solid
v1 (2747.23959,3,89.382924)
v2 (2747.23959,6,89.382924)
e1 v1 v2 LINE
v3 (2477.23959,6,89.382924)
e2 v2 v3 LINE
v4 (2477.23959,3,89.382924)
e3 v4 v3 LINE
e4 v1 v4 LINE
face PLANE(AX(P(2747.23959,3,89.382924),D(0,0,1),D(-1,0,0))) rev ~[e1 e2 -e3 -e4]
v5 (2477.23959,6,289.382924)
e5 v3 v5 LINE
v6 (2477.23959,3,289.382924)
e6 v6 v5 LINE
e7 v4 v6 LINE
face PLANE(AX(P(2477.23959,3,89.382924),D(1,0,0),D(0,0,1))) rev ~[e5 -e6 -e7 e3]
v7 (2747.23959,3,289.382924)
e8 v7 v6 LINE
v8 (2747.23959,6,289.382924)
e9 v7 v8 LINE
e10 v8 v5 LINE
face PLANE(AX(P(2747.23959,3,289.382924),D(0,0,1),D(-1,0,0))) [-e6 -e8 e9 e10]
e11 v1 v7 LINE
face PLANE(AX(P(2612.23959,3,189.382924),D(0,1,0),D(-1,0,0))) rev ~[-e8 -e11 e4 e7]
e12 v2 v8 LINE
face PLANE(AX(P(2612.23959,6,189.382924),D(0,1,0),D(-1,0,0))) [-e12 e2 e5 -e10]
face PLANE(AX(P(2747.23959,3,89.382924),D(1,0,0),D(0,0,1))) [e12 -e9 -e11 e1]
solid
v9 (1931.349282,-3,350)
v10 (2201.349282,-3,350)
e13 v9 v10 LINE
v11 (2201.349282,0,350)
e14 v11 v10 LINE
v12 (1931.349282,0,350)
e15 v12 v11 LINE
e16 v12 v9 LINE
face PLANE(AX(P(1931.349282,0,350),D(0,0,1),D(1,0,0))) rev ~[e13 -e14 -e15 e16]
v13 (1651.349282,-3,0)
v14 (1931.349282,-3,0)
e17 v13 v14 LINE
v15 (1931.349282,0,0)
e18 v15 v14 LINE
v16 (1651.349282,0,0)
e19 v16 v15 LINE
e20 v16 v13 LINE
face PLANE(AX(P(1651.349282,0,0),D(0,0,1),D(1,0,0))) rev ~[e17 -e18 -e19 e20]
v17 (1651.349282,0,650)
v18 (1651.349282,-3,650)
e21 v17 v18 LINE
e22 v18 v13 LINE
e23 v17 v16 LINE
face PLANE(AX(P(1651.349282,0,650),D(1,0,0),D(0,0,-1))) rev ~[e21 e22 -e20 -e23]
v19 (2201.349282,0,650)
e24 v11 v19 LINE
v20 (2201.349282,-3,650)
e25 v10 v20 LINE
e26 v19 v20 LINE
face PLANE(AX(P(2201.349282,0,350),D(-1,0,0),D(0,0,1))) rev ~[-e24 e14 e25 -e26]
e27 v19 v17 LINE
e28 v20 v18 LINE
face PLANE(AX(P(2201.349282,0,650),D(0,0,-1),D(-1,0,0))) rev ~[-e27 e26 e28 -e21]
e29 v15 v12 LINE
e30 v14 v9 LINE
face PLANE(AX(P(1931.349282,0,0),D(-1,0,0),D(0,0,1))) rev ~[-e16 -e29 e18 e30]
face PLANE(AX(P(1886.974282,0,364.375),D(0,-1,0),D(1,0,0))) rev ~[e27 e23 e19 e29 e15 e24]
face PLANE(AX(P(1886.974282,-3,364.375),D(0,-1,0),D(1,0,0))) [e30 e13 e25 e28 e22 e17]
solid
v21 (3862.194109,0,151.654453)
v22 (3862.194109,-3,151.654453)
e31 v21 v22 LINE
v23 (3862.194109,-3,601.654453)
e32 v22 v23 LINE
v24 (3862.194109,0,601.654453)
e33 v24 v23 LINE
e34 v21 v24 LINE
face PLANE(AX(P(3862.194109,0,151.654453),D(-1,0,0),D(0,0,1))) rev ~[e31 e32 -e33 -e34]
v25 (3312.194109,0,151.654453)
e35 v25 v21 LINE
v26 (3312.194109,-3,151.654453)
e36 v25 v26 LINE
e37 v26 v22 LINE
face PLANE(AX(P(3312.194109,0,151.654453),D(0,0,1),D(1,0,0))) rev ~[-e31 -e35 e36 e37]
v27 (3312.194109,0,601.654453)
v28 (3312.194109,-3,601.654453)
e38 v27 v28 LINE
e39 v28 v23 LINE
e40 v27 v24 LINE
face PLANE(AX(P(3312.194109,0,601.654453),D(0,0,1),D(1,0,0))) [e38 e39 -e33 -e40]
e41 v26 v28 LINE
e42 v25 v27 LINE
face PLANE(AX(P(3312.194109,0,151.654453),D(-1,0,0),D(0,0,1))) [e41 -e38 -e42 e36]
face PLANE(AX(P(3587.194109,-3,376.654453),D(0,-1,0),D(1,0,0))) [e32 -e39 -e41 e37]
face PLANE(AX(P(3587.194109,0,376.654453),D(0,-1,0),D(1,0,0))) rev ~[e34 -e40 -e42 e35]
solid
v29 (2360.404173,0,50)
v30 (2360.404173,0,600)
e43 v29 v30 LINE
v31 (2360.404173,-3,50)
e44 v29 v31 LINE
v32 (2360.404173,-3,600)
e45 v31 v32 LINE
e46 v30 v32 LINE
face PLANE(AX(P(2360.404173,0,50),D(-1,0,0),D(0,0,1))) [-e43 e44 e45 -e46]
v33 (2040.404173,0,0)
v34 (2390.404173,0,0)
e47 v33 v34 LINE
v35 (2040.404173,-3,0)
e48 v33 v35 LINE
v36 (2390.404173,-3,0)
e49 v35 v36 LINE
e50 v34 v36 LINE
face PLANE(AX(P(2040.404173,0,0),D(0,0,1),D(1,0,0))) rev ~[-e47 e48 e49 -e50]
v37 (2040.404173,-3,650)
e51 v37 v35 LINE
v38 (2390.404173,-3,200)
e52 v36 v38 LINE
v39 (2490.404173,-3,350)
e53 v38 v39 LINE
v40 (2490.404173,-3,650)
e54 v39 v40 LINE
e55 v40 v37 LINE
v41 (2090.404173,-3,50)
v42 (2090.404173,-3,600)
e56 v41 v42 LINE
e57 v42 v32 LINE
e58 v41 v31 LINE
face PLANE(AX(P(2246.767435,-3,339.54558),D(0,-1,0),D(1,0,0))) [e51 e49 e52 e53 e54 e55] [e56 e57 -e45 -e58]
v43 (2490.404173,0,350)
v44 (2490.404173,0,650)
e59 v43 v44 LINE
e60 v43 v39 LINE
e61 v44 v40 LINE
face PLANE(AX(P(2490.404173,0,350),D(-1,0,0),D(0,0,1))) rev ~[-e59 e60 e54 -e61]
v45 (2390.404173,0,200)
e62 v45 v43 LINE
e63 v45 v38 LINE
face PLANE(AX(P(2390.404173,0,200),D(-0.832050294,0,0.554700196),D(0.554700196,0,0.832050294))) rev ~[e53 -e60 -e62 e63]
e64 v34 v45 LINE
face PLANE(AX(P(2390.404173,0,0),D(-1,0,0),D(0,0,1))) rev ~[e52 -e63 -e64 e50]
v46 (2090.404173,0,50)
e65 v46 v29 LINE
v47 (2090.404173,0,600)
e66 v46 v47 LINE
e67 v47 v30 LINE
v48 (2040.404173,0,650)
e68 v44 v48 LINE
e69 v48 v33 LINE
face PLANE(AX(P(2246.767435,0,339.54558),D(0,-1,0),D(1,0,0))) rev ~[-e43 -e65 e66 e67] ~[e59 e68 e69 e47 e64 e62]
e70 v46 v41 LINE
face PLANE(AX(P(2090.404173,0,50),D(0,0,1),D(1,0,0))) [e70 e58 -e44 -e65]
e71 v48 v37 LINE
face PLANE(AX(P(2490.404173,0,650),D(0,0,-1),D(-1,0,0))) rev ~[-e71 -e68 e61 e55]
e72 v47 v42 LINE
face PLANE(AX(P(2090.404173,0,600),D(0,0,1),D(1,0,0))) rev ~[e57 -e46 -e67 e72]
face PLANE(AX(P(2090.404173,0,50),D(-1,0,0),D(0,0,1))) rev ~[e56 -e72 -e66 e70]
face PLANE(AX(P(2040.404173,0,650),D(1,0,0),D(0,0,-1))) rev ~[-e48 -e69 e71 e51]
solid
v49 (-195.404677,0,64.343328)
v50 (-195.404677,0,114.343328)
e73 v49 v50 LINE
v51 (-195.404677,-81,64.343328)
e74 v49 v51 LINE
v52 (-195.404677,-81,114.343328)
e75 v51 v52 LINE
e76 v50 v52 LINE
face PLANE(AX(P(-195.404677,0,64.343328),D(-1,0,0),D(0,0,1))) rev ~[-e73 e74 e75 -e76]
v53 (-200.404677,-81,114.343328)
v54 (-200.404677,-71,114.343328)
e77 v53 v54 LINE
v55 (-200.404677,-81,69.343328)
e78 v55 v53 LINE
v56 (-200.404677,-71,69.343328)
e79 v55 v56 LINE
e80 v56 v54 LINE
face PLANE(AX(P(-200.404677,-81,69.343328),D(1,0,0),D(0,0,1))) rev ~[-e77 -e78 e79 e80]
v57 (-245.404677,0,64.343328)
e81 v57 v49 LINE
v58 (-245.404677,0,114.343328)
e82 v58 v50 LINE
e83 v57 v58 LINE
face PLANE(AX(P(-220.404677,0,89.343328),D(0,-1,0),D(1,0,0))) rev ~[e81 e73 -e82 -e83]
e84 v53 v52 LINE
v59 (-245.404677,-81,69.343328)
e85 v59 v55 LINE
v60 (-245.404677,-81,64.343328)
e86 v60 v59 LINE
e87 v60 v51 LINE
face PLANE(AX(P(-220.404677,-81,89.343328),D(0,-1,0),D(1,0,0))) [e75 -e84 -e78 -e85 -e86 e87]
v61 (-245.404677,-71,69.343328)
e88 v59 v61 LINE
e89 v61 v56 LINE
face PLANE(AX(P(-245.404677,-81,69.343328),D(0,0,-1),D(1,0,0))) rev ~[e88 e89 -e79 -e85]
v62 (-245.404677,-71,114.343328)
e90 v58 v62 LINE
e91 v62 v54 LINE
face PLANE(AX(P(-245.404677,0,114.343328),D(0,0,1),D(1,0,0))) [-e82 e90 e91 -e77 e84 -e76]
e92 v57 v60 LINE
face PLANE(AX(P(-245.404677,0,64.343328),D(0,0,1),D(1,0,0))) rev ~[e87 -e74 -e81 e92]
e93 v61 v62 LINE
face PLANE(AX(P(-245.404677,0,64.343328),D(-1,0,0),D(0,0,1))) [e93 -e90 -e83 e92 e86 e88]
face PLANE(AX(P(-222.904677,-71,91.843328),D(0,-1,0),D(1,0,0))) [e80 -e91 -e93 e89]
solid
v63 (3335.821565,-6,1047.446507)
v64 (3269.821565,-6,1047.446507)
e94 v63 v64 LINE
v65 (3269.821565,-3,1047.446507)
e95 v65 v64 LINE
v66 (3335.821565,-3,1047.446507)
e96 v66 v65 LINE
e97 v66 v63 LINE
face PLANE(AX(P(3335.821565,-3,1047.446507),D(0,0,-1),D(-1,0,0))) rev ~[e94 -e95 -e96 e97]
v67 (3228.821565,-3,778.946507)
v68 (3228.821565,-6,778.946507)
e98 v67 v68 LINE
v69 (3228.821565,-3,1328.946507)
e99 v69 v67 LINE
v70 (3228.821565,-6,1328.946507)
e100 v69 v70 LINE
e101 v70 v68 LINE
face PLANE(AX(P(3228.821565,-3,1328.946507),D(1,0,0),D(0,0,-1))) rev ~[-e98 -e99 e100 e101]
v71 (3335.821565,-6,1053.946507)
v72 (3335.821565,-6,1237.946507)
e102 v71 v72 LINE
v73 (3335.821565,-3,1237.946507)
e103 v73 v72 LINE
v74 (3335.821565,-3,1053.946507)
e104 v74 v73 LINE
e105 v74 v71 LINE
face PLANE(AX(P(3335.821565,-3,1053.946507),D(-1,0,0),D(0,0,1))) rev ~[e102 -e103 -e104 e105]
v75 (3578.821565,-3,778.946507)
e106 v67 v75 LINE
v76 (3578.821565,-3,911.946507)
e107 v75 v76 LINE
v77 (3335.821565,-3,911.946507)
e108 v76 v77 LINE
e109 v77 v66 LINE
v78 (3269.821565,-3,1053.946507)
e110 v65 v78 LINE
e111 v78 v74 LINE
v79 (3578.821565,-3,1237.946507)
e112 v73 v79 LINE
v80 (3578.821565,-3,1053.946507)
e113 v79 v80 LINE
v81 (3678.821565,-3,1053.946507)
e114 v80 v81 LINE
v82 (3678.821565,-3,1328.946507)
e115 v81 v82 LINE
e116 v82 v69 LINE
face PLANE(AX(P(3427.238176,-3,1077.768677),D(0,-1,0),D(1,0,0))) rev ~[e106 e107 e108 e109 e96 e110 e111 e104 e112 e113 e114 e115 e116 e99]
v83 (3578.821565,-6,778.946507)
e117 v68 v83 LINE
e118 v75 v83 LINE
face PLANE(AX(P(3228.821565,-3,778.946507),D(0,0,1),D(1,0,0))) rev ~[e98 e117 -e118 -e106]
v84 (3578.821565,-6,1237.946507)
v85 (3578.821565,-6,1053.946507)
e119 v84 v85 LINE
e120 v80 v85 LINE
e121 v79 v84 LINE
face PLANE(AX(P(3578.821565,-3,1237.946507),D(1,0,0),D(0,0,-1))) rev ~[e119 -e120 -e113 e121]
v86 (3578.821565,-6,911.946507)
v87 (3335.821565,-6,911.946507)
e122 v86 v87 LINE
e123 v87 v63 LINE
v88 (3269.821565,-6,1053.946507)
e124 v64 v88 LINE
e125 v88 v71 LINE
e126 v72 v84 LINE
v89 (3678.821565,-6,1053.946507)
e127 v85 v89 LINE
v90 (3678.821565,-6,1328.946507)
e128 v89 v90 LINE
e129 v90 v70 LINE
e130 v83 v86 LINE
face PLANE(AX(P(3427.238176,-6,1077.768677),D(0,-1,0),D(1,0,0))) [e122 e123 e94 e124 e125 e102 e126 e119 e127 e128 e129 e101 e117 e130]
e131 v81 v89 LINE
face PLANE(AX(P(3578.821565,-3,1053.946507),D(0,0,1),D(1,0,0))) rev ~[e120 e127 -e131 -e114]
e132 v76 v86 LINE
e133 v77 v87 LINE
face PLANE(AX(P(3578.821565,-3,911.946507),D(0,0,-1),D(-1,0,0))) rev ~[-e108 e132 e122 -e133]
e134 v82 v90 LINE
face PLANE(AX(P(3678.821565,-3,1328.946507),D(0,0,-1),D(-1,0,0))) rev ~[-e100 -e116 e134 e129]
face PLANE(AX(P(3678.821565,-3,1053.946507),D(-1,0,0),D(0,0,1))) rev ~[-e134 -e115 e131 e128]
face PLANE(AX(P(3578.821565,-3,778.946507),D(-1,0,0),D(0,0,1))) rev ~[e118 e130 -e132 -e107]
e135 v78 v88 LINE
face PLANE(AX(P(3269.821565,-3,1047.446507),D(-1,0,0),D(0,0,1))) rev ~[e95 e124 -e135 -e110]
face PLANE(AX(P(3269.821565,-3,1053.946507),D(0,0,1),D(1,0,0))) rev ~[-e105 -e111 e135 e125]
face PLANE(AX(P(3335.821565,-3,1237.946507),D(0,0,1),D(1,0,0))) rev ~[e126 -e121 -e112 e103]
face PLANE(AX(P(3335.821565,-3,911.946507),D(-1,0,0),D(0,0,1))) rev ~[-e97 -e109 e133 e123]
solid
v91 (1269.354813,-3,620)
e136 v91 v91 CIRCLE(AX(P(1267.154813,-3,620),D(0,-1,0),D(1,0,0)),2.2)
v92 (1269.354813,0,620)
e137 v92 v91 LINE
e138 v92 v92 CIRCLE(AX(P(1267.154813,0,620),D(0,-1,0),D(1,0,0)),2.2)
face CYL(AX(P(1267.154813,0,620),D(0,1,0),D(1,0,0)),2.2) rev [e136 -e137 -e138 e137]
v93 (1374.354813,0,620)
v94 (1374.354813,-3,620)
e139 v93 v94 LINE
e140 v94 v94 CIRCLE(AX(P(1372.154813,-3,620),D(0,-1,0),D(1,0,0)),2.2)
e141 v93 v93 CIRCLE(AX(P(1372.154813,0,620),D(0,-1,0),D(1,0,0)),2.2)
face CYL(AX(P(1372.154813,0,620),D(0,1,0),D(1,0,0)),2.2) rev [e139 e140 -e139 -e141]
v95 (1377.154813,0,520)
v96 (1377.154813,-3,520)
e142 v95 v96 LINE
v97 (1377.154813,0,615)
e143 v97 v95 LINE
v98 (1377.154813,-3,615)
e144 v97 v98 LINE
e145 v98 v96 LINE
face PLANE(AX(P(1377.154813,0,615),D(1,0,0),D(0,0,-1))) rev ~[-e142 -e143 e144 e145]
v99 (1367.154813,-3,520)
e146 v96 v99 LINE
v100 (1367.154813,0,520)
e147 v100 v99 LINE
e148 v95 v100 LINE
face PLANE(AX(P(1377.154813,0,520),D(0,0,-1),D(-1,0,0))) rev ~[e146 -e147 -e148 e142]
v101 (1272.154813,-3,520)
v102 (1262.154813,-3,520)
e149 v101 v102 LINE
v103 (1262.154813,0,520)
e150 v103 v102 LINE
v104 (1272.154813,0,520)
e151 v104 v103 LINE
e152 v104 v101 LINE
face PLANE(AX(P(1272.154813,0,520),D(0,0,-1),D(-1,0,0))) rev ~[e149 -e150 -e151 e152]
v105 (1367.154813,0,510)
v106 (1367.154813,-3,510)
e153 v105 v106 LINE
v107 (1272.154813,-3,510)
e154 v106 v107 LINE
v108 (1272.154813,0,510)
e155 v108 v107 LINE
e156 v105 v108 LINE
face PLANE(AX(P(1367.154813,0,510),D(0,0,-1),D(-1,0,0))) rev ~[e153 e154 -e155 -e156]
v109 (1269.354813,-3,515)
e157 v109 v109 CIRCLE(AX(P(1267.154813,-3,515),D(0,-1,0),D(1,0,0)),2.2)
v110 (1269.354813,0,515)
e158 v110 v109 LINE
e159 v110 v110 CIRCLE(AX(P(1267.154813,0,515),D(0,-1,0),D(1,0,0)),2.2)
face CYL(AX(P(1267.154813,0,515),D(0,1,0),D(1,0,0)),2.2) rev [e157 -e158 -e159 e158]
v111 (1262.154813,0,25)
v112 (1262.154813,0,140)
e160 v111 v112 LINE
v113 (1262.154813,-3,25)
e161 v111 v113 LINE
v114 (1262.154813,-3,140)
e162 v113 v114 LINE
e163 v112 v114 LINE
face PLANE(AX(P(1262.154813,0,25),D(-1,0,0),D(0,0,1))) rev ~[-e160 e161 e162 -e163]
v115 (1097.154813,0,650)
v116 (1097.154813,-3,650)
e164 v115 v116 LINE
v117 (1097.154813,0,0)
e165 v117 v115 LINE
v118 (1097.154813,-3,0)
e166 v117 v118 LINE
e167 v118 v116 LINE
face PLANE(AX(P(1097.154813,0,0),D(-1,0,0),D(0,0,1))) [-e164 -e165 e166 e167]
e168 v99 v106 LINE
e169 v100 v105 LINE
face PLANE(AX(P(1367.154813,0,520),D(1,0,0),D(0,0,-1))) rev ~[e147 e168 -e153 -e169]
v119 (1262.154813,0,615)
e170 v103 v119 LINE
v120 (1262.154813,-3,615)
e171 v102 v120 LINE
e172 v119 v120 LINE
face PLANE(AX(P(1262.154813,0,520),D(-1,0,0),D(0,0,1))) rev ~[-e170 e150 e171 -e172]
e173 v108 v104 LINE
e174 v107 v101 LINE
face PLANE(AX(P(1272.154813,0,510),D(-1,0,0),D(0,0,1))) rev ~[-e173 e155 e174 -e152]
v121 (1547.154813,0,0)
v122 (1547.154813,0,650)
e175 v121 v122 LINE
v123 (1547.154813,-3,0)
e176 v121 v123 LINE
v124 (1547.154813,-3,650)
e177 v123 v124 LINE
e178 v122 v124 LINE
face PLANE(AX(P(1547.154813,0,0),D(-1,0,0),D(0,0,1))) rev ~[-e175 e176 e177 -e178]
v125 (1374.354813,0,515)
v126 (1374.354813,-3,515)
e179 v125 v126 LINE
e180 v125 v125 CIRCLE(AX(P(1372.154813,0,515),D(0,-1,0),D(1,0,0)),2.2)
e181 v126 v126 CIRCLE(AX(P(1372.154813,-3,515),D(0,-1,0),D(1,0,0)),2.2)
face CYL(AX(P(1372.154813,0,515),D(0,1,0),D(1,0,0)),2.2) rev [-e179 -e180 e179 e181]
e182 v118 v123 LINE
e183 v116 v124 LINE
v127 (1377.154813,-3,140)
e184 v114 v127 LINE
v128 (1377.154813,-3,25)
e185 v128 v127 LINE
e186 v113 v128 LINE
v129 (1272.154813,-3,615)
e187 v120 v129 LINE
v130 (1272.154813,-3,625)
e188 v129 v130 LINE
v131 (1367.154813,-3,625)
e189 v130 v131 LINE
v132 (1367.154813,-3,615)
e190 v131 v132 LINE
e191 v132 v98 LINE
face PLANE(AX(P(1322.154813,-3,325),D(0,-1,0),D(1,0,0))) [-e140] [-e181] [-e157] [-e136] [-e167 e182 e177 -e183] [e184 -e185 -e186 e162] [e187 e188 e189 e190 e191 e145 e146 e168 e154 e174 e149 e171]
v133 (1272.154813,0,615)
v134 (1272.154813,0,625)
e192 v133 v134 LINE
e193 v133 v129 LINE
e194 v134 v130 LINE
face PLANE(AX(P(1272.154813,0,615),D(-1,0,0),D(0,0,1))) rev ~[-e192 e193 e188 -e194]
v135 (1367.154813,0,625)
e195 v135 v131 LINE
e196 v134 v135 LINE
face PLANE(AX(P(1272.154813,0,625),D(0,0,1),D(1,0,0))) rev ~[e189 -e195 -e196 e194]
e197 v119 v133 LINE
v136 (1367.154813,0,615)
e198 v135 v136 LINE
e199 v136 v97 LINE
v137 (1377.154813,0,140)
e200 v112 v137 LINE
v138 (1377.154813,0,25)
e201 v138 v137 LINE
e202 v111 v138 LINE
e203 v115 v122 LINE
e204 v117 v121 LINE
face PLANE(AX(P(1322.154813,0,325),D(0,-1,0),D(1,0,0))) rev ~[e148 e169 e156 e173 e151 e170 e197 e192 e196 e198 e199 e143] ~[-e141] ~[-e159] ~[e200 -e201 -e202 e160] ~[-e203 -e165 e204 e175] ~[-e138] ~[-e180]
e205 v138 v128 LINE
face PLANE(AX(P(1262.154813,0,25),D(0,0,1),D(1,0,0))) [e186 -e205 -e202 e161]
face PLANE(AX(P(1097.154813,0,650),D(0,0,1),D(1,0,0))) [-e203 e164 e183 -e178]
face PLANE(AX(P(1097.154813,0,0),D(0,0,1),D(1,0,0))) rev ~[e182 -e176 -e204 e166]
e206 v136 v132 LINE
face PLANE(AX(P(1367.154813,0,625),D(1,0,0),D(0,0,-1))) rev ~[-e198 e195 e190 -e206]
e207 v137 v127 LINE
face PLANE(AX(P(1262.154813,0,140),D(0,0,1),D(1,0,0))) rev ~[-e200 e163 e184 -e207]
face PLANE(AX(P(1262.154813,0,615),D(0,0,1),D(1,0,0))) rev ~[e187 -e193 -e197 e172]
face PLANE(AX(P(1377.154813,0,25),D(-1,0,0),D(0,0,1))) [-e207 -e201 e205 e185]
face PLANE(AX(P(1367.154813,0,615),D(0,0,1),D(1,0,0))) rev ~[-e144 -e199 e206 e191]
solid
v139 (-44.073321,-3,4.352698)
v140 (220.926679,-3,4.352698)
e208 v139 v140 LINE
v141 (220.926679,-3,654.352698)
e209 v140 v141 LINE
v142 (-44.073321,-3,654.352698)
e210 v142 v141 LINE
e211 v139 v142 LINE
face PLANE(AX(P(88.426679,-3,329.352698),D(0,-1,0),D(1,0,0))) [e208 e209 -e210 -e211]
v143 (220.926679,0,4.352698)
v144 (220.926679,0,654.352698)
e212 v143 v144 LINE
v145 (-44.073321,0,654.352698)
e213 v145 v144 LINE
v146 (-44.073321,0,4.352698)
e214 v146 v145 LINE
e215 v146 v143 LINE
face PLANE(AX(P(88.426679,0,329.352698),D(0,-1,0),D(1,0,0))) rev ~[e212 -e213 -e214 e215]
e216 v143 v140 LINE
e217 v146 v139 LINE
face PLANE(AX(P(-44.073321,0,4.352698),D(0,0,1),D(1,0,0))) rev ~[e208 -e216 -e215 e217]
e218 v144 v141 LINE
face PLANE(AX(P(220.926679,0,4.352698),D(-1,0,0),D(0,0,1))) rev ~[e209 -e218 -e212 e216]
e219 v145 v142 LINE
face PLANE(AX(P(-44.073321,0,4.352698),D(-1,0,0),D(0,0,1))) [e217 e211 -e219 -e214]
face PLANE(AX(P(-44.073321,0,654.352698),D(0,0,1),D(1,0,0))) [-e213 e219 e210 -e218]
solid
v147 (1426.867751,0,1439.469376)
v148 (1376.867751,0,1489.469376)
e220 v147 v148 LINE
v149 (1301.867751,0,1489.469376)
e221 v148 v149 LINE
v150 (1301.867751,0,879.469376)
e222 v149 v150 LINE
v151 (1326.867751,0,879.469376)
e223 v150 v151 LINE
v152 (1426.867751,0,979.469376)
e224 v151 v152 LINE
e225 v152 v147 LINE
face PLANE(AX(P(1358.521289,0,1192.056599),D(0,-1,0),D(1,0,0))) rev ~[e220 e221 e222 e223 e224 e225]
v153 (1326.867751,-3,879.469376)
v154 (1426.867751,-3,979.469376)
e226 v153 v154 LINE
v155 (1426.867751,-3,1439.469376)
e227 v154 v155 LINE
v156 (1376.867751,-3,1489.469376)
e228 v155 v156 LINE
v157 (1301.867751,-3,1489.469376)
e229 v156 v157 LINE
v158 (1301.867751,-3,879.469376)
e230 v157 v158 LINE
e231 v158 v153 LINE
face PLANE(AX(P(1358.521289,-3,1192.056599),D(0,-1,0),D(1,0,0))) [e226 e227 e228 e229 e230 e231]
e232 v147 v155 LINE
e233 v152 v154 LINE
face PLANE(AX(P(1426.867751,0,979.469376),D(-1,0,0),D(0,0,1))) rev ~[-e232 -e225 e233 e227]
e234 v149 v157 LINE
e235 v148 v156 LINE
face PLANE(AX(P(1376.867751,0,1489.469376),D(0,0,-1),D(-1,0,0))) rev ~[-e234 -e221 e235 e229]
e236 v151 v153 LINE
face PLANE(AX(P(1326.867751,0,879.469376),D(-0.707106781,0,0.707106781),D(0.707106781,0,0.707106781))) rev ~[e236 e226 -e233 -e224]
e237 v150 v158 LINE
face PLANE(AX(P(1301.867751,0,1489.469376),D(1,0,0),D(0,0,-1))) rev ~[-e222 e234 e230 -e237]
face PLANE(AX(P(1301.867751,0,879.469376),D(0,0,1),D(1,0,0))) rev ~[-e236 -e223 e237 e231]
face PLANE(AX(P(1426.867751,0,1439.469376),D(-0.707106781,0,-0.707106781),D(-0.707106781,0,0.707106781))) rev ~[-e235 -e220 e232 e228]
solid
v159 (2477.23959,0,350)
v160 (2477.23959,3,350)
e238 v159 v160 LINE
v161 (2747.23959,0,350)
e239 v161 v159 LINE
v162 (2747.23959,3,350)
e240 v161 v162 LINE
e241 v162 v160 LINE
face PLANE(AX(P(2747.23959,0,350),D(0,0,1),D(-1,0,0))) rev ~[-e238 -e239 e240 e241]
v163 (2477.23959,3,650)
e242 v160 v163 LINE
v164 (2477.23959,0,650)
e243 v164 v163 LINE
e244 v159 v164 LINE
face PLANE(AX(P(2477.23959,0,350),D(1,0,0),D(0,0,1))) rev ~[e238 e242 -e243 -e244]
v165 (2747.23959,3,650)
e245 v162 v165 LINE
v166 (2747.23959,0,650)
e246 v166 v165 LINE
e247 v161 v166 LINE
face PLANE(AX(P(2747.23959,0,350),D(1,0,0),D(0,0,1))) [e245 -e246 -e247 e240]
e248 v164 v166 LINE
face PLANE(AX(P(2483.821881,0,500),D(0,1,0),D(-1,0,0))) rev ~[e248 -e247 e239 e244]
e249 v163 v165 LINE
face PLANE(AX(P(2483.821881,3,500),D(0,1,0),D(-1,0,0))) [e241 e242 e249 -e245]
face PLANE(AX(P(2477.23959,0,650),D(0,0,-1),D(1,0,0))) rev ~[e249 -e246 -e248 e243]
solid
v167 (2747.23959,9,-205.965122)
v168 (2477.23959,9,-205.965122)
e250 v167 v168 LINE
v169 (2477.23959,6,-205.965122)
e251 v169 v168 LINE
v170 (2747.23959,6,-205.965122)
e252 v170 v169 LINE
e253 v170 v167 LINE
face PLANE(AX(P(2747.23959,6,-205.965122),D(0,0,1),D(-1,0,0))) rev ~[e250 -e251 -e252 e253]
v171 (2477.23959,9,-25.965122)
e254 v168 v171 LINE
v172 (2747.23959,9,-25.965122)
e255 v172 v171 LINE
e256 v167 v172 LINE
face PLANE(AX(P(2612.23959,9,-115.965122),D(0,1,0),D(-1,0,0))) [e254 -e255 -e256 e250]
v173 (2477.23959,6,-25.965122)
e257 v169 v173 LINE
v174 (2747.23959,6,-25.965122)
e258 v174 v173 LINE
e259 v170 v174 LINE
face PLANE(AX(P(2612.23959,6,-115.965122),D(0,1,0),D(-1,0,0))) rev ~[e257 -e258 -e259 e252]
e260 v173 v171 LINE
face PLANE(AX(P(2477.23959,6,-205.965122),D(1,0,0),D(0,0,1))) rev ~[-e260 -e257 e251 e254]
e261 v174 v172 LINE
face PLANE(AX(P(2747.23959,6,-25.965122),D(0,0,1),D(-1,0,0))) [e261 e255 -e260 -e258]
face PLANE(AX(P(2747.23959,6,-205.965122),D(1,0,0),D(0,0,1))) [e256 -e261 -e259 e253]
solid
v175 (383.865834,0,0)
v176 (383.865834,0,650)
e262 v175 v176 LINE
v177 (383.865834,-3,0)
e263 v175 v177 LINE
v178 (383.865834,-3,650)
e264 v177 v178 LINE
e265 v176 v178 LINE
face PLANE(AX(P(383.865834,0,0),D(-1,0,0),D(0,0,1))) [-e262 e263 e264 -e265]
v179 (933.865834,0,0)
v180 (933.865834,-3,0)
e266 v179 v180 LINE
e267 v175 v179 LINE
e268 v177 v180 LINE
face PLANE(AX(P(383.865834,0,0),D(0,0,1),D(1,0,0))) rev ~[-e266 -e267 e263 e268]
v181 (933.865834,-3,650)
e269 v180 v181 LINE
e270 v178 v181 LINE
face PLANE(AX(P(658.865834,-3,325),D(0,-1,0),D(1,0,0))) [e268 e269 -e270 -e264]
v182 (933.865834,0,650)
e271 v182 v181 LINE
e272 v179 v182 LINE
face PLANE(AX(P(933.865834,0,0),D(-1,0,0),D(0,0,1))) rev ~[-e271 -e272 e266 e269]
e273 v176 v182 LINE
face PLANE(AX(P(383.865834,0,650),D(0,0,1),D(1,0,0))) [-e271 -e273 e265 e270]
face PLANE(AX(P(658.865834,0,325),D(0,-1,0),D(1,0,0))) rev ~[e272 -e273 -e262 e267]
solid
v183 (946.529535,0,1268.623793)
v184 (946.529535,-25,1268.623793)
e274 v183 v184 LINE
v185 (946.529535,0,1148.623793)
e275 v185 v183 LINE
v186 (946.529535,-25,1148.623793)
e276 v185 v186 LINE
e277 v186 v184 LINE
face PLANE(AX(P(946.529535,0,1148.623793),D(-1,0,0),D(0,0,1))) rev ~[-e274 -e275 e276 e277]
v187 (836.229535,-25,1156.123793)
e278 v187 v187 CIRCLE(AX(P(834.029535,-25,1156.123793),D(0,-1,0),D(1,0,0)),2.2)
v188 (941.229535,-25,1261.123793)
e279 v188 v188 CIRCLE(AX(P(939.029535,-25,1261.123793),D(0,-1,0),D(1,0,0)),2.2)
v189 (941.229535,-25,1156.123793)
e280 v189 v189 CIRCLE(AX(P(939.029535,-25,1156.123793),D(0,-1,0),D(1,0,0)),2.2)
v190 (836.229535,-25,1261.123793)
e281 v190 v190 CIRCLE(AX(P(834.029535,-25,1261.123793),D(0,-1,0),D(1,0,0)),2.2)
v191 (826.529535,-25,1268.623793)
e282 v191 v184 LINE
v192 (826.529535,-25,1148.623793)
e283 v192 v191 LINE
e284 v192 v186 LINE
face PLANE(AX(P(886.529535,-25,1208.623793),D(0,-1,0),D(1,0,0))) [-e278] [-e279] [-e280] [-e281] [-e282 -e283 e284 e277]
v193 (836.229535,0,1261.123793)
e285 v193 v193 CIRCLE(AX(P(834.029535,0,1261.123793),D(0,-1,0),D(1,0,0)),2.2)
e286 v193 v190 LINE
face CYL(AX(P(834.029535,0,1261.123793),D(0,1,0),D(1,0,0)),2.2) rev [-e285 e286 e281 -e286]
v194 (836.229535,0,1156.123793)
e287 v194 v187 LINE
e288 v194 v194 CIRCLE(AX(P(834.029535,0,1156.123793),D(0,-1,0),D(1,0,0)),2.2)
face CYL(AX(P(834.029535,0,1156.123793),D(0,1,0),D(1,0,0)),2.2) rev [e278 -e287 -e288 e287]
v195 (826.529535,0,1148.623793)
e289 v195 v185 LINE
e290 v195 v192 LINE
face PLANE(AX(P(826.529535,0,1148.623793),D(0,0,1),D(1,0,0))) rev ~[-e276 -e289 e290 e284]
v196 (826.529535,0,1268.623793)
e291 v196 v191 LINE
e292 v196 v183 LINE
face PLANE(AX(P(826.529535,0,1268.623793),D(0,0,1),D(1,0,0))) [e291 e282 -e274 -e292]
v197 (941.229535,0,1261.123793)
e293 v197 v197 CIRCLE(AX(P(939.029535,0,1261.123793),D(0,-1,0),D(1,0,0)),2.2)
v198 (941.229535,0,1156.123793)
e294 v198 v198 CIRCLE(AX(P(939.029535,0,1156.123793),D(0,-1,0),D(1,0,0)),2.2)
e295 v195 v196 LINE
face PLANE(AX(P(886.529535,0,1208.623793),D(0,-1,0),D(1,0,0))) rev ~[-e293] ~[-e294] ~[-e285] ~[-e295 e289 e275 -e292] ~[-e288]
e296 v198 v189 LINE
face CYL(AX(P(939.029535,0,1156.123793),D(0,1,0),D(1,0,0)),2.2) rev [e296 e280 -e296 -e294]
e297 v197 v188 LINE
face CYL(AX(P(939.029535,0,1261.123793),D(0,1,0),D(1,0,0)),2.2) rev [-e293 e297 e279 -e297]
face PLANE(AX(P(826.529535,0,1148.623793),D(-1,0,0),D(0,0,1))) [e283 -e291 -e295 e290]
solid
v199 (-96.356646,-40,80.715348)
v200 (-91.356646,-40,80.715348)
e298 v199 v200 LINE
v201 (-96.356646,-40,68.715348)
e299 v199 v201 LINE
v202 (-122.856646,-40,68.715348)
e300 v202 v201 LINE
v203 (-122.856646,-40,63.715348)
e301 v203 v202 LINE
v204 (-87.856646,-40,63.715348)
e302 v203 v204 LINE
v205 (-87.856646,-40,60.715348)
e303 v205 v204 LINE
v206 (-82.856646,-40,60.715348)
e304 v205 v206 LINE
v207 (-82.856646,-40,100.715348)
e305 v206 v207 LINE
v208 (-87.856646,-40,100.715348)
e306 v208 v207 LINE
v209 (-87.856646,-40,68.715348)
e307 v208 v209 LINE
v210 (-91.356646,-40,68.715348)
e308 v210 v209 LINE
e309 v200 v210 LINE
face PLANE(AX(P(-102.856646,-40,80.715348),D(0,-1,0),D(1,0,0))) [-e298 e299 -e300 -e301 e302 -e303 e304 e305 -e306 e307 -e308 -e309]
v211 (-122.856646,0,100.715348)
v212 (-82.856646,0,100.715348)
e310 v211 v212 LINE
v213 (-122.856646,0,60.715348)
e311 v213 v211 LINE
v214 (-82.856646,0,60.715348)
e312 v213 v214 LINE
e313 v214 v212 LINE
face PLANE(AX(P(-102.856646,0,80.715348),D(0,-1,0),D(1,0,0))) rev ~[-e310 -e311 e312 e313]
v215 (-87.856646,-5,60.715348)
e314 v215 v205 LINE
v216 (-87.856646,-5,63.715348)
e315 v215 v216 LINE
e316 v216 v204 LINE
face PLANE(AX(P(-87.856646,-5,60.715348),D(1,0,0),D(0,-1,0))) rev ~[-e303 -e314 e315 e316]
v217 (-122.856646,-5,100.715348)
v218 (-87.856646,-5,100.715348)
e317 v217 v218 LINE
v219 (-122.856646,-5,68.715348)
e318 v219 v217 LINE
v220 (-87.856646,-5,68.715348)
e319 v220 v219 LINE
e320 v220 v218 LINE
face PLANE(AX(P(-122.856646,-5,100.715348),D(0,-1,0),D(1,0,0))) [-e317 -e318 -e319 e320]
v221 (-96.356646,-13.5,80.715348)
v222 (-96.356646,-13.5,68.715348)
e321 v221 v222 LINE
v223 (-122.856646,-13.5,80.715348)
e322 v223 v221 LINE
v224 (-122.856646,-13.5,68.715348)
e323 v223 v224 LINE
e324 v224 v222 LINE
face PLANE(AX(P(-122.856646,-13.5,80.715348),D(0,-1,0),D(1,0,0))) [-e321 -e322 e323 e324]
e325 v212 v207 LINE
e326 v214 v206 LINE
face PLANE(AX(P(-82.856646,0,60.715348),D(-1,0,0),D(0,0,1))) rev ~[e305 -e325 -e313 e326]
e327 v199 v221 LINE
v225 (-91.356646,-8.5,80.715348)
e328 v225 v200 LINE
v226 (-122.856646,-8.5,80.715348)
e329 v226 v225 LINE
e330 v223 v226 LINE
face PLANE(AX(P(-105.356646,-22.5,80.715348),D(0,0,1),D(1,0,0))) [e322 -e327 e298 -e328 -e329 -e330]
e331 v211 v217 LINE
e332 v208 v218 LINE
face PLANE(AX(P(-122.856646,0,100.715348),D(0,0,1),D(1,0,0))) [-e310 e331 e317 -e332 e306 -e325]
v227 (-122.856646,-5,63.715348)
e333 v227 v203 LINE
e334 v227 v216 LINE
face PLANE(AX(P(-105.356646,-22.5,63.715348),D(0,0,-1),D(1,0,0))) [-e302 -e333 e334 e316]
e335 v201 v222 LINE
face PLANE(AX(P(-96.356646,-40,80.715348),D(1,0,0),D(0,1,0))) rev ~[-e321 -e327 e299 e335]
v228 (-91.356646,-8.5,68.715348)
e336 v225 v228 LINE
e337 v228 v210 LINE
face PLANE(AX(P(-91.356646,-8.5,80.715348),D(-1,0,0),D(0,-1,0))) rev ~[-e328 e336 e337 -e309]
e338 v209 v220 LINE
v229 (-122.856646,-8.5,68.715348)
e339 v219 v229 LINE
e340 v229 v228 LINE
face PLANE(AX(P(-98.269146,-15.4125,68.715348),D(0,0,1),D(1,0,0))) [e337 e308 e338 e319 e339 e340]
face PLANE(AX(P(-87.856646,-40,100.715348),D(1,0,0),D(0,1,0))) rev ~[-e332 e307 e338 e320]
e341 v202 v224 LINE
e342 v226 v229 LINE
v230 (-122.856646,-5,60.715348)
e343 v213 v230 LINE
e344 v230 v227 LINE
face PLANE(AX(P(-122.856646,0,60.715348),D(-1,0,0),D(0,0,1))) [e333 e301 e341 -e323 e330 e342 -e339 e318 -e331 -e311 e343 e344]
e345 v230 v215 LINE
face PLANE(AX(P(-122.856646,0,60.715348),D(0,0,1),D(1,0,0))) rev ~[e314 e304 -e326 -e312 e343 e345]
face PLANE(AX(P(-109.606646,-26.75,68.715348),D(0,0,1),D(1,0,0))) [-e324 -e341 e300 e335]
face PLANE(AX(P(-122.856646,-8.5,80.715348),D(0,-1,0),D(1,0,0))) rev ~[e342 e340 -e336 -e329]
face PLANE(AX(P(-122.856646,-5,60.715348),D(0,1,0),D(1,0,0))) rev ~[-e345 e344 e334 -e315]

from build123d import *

# Parameters (mm, degrees)
F0_W      = 40
F0_H      = 40
F1_DEPTH  = 40
F2_W      = 35
F2_H      = 35
F3_DEPTH  = 20
F4_W      = 35
F4_H      = 35
F5_DEPTH  = 3
F6_W      = 26.5
F6_H      = 26.5
F7_DEPTH  = 12
F8_W      = 265
F8_H      = 650
F9_DEPTH  = 3
F10_W     = 550
F10_H     = 650
F11_DEPTH = 3
F12_W     = 450
F12_H     = 650
F12_W_2   = 115
F12_H_2   = 115
F12_R     = 2.2
F13_DEPTH = 3
F15_DEPTH = 3
F16_W     = 270
F16_H     = 550
F17_DEPTH = 3
F18_W     = 13.1645835346
F18_H     = 300
F18_W_2   = 256.8354164654
F19_DEPTH = 3
F20_W     = 270
F20_H     = 200
F21_DEPTH = 3
F22_W     = 270
F22_H     = 180
F23_DEPTH = 3
F24_W     = 550
F24_H     = 450
F25_DEPTH = 3
F27_DEPTH = 3
F28_W     = 50
F28_H     = 50
F29_DEPTH = 81
F30_W     = 45
F30_H     = 45
F31_DEPTH = 10
F32_W     = 120
F32_H     = 120
F32_R     = 2.2
F33_DEPTH = 25
F35_DEPTH = 3


with BuildPart() as f1:
    # F0 (on Front) → F1 (new body)
    with BuildSketch(Plane.XZ):
        with Locations((-102.8566464484, 80.7153475598)):
            Rectangle(F0_W, F0_H)
    extrude(amount=F1_DEPTH)

    # F2 (on face) → F3 (cut)
    with BuildSketch(Plane.XY.offset(100.7153475598)):
        with Locations((-105.3566464484, -22.5)):
            Rectangle(F2_W, F2_H)
    extrude(amount=-F3_DEPTH, mode=Mode.SUBTRACT)

    # F4 (on face) → F5 (cut)
    with BuildSketch(Plane(origin=(0, 0, 60.7153475598), x_dir=(1, 0, 0), z_dir=(0, 0, -1))):
        with Locations((-105.3566464484, 22.5)):
            Rectangle(F4_W, F4_H)
    extrude(amount=-F5_DEPTH, mode=Mode.SUBTRACT)

    # F6 (on face) → F7 (cut)
    with BuildSketch(Plane.XY.offset(80.7153475598)):
        with Locations((-109.6066464484, -26.75)):
            Rectangle(F6_W, F6_H)
        Polygon((-91.3566464484, -8.5), (-91.3566464484, -40), (-87.8566464484, -40), (-87.8566464484, -5), (-91.3566464484, -5), (-91.9287055731, -5), (-122.8566464484, -5), (-122.8566464484, -8.5), align=None)
    extrude(amount=-F7_DEPTH, mode=Mode.SUBTRACT)


with BuildPart() as f9:
    # F8 (on Front) → F9 (new body)
    with BuildSketch(Plane.XZ):
        with Locations((88.4266790748, 329.3526981026)):
            Rectangle(F8_W, F8_H)
    extrude(amount=F9_DEPTH)


with BuildPart() as f11:
    # F10 (on Front) → F11 (new body)
    with BuildSketch(Plane.XZ):
        with Locations((658.8658335028, 325)):
            Rectangle(F10_W, F10_H)
    extrude(amount=F11_DEPTH)


with BuildPart() as f13:
    # F12 (on Front) → F13 (new body)
    with BuildSketch(Plane.XZ):
        with Locations((1322.1548128128, 325)):
            Rectangle(F12_W, F12_H)
        with Locations((1319.6548128128, 82.5)):
            Rectangle(F12_W_2, F12_H_2, mode=Mode.SUBTRACT)
        with Locations((1267.1548128128, 515)):
            Circle(F12_R, mode=Mode.SUBTRACT)
        Polygon((1262.1548128128, 520), (1262.1548128128, 615), (1272.1548128128, 615), (1272.1548128128, 625), (1367.1548128128, 625), (1367.1548128128, 615), (1377.1548128128, 615), (1377.1548128128, 520), (1367.1548128128, 520), (1367.1548128128, 510), (1272.1548128128, 510), (1272.1548128128, 520), align=None, mode=Mode.SUBTRACT)
        with Locations((1267.1548128128, 620)):
            Circle(F12_R, mode=Mode.SUBTRACT)
        with Locations((1372.1548128128, 515)):
            Circle(F12_R, mode=Mode.SUBTRACT)
        with Locations((1372.1548128128, 620)):
            Circle(F12_R, mode=Mode.SUBTRACT)
    extrude(amount=F13_DEPTH)


with BuildPart() as f15:
    # F14 (on Front) → F15 (new body)
    with BuildSketch(Plane.XZ):
        Polygon((1651.3492820922, 650), (1651.3492820922, 0), (1931.3492820922, 0), (1931.3492820922, 350), (2201.3492820922, 350), (2201.3492820922, 650), align=None)
    extrude(amount=F15_DEPTH)


with BuildPart() as f17:
    # F16 (on Front) → F17 (new body)
    with BuildSketch(Plane.XZ):
        Polygon((2040.4041732257, 650), (2040.4041732257, 0), (2390.4041732257, 0), (2390.4041732257, 200), (2490.4041732257, 350), (2490.4041732257, 650), (2390.4041732257, 650), align=None)
        with Locations((2225.4041732257, 325)):
            Rectangle(F16_W, F16_H, mode=Mode.SUBTRACT)
    extrude(amount=F17_DEPTH)


with BuildPart() as f19:
    # F18 (on face) → F19 (new body)
    with BuildSketch(Plane(origin=(0, 0, 0), x_dir=(-1, 0, 0), z_dir=(0, 1, 0))):
        with Locations((-2483.8218814584, 500)):
            Rectangle(F18_W, F18_H)
        with Locations((-2618.8218814584, 500)):
            Rectangle(F18_W_2, F18_H)
    extrude(amount=F19_DEPTH)


with BuildPart() as f21:
    # F20 (on face) → F21 (new body)
    with BuildSketch(Plane(origin=(0, 3, 0), x_dir=(-1, 0, 0), z_dir=(0, 1, 0))):
        with Locations((-2612.2395896912, 189.3829244978)):
            Rectangle(F20_W, F20_H)
    extrude(amount=F21_DEPTH)


with BuildPart() as f23:
    # F22 (on face) → F23 (new body)
    with BuildSketch(Plane(origin=(0, 6, 0), x_dir=(-1, 0, 0), z_dir=(0, 1, 0))):
        with Locations((-2612.2395896912, -115.965121549)):
            Rectangle(F22_W, F22_H)
    extrude(amount=F23_DEPTH)


with BuildPart() as f25:
    # F24 (on Front) → F25 (new body)
    with BuildSketch(Plane.XZ):
        with Locations((3587.194108963, 376.6544529481)):
            Rectangle(F24_W, F24_H)
    extrude(amount=F25_DEPTH)


with BuildPart() as f27:
    # F26 (on face) → F27 (new body)
    with BuildSketch(Plane.XZ.offset(3)):
        Polygon((3678.8215652645, 1328.9465069771), (3228.8215652645, 1328.9465069771), (3228.8215652645, 778.9465069771), (3578.8215652645, 778.9465069771), (3578.8215652645, 911.9465069771), (3335.8215652645, 911.9465069771), (3335.8215652645, 1047.4465069771), (3269.8215652645, 1047.4465069771), (3269.8215652645, 1053.9465069771), (3335.8215652645, 1053.9465069771), (3335.8215652645, 1237.9465069771), (3578.8215652645, 1237.9465069771), (3578.8215652645, 1053.9465069771), (3678.8215652645, 1053.9465069771), align=None)
    extrude(amount=F27_DEPTH)


with BuildPart() as f29:
    # F28 (on Front) → F29 (new body)
    with BuildSketch(Plane.XZ):
        with Locations((-220.404677093, 89.3433275744)):
            Rectangle(F28_W, F28_H)
    extrude(amount=F29_DEPTH)

    # F30 (on face) → F31 (cut)
    with BuildSketch(Plane.XZ.offset(81)):
        with Locations((-222.904677093, 91.8433275744)):
            Rectangle(F30_W, F30_H)
    extrude(amount=-F31_DEPTH, mode=Mode.SUBTRACT)


with BuildPart() as f33:
    # F32 (on Front) → F33 (new body)
    with BuildSketch(Plane.XZ):
        with Locations((886.5295350552, 1208.6237928141)):
            Rectangle(F32_W, F32_H)
        with Locations((834.0295350552, 1156.1237928141)):
            Circle(F32_R, mode=Mode.SUBTRACT)
        with Locations((939.0295350552, 1156.1237928141)):
            Circle(F32_R, mode=Mode.SUBTRACT)
        with Locations((834.0295350552, 1261.1237928141)):
            Circle(F32_R, mode=Mode.SUBTRACT)
        with Locations((939.0295350552, 1261.1237928141)):
            Circle(F32_R, mode=Mode.SUBTRACT)
    extrude(amount=F33_DEPTH)


with BuildPart() as f35:
    # F34 (on Front) → F35 (new body)
    with BuildSketch(Plane.XZ):
        Polygon((1301.8677513387, 1489.4693756618), (1301.8677513387, 879.4693756618), (1326.8677513387, 879.4693756618), (1426.8677513387, 979.4693756618), (1426.8677513387, 1439.4693756618), (1376.8677513387, 1489.4693756618), align=None)
    extrude(amount=F35_DEPTH)


solid = Compound([f1.part, f9.part, f11.part, f13.part, f15.part, f17.part, f19.part, f21.part, f23.part, f25.part, f27.part, f29.part, f33.part, f35.part])
